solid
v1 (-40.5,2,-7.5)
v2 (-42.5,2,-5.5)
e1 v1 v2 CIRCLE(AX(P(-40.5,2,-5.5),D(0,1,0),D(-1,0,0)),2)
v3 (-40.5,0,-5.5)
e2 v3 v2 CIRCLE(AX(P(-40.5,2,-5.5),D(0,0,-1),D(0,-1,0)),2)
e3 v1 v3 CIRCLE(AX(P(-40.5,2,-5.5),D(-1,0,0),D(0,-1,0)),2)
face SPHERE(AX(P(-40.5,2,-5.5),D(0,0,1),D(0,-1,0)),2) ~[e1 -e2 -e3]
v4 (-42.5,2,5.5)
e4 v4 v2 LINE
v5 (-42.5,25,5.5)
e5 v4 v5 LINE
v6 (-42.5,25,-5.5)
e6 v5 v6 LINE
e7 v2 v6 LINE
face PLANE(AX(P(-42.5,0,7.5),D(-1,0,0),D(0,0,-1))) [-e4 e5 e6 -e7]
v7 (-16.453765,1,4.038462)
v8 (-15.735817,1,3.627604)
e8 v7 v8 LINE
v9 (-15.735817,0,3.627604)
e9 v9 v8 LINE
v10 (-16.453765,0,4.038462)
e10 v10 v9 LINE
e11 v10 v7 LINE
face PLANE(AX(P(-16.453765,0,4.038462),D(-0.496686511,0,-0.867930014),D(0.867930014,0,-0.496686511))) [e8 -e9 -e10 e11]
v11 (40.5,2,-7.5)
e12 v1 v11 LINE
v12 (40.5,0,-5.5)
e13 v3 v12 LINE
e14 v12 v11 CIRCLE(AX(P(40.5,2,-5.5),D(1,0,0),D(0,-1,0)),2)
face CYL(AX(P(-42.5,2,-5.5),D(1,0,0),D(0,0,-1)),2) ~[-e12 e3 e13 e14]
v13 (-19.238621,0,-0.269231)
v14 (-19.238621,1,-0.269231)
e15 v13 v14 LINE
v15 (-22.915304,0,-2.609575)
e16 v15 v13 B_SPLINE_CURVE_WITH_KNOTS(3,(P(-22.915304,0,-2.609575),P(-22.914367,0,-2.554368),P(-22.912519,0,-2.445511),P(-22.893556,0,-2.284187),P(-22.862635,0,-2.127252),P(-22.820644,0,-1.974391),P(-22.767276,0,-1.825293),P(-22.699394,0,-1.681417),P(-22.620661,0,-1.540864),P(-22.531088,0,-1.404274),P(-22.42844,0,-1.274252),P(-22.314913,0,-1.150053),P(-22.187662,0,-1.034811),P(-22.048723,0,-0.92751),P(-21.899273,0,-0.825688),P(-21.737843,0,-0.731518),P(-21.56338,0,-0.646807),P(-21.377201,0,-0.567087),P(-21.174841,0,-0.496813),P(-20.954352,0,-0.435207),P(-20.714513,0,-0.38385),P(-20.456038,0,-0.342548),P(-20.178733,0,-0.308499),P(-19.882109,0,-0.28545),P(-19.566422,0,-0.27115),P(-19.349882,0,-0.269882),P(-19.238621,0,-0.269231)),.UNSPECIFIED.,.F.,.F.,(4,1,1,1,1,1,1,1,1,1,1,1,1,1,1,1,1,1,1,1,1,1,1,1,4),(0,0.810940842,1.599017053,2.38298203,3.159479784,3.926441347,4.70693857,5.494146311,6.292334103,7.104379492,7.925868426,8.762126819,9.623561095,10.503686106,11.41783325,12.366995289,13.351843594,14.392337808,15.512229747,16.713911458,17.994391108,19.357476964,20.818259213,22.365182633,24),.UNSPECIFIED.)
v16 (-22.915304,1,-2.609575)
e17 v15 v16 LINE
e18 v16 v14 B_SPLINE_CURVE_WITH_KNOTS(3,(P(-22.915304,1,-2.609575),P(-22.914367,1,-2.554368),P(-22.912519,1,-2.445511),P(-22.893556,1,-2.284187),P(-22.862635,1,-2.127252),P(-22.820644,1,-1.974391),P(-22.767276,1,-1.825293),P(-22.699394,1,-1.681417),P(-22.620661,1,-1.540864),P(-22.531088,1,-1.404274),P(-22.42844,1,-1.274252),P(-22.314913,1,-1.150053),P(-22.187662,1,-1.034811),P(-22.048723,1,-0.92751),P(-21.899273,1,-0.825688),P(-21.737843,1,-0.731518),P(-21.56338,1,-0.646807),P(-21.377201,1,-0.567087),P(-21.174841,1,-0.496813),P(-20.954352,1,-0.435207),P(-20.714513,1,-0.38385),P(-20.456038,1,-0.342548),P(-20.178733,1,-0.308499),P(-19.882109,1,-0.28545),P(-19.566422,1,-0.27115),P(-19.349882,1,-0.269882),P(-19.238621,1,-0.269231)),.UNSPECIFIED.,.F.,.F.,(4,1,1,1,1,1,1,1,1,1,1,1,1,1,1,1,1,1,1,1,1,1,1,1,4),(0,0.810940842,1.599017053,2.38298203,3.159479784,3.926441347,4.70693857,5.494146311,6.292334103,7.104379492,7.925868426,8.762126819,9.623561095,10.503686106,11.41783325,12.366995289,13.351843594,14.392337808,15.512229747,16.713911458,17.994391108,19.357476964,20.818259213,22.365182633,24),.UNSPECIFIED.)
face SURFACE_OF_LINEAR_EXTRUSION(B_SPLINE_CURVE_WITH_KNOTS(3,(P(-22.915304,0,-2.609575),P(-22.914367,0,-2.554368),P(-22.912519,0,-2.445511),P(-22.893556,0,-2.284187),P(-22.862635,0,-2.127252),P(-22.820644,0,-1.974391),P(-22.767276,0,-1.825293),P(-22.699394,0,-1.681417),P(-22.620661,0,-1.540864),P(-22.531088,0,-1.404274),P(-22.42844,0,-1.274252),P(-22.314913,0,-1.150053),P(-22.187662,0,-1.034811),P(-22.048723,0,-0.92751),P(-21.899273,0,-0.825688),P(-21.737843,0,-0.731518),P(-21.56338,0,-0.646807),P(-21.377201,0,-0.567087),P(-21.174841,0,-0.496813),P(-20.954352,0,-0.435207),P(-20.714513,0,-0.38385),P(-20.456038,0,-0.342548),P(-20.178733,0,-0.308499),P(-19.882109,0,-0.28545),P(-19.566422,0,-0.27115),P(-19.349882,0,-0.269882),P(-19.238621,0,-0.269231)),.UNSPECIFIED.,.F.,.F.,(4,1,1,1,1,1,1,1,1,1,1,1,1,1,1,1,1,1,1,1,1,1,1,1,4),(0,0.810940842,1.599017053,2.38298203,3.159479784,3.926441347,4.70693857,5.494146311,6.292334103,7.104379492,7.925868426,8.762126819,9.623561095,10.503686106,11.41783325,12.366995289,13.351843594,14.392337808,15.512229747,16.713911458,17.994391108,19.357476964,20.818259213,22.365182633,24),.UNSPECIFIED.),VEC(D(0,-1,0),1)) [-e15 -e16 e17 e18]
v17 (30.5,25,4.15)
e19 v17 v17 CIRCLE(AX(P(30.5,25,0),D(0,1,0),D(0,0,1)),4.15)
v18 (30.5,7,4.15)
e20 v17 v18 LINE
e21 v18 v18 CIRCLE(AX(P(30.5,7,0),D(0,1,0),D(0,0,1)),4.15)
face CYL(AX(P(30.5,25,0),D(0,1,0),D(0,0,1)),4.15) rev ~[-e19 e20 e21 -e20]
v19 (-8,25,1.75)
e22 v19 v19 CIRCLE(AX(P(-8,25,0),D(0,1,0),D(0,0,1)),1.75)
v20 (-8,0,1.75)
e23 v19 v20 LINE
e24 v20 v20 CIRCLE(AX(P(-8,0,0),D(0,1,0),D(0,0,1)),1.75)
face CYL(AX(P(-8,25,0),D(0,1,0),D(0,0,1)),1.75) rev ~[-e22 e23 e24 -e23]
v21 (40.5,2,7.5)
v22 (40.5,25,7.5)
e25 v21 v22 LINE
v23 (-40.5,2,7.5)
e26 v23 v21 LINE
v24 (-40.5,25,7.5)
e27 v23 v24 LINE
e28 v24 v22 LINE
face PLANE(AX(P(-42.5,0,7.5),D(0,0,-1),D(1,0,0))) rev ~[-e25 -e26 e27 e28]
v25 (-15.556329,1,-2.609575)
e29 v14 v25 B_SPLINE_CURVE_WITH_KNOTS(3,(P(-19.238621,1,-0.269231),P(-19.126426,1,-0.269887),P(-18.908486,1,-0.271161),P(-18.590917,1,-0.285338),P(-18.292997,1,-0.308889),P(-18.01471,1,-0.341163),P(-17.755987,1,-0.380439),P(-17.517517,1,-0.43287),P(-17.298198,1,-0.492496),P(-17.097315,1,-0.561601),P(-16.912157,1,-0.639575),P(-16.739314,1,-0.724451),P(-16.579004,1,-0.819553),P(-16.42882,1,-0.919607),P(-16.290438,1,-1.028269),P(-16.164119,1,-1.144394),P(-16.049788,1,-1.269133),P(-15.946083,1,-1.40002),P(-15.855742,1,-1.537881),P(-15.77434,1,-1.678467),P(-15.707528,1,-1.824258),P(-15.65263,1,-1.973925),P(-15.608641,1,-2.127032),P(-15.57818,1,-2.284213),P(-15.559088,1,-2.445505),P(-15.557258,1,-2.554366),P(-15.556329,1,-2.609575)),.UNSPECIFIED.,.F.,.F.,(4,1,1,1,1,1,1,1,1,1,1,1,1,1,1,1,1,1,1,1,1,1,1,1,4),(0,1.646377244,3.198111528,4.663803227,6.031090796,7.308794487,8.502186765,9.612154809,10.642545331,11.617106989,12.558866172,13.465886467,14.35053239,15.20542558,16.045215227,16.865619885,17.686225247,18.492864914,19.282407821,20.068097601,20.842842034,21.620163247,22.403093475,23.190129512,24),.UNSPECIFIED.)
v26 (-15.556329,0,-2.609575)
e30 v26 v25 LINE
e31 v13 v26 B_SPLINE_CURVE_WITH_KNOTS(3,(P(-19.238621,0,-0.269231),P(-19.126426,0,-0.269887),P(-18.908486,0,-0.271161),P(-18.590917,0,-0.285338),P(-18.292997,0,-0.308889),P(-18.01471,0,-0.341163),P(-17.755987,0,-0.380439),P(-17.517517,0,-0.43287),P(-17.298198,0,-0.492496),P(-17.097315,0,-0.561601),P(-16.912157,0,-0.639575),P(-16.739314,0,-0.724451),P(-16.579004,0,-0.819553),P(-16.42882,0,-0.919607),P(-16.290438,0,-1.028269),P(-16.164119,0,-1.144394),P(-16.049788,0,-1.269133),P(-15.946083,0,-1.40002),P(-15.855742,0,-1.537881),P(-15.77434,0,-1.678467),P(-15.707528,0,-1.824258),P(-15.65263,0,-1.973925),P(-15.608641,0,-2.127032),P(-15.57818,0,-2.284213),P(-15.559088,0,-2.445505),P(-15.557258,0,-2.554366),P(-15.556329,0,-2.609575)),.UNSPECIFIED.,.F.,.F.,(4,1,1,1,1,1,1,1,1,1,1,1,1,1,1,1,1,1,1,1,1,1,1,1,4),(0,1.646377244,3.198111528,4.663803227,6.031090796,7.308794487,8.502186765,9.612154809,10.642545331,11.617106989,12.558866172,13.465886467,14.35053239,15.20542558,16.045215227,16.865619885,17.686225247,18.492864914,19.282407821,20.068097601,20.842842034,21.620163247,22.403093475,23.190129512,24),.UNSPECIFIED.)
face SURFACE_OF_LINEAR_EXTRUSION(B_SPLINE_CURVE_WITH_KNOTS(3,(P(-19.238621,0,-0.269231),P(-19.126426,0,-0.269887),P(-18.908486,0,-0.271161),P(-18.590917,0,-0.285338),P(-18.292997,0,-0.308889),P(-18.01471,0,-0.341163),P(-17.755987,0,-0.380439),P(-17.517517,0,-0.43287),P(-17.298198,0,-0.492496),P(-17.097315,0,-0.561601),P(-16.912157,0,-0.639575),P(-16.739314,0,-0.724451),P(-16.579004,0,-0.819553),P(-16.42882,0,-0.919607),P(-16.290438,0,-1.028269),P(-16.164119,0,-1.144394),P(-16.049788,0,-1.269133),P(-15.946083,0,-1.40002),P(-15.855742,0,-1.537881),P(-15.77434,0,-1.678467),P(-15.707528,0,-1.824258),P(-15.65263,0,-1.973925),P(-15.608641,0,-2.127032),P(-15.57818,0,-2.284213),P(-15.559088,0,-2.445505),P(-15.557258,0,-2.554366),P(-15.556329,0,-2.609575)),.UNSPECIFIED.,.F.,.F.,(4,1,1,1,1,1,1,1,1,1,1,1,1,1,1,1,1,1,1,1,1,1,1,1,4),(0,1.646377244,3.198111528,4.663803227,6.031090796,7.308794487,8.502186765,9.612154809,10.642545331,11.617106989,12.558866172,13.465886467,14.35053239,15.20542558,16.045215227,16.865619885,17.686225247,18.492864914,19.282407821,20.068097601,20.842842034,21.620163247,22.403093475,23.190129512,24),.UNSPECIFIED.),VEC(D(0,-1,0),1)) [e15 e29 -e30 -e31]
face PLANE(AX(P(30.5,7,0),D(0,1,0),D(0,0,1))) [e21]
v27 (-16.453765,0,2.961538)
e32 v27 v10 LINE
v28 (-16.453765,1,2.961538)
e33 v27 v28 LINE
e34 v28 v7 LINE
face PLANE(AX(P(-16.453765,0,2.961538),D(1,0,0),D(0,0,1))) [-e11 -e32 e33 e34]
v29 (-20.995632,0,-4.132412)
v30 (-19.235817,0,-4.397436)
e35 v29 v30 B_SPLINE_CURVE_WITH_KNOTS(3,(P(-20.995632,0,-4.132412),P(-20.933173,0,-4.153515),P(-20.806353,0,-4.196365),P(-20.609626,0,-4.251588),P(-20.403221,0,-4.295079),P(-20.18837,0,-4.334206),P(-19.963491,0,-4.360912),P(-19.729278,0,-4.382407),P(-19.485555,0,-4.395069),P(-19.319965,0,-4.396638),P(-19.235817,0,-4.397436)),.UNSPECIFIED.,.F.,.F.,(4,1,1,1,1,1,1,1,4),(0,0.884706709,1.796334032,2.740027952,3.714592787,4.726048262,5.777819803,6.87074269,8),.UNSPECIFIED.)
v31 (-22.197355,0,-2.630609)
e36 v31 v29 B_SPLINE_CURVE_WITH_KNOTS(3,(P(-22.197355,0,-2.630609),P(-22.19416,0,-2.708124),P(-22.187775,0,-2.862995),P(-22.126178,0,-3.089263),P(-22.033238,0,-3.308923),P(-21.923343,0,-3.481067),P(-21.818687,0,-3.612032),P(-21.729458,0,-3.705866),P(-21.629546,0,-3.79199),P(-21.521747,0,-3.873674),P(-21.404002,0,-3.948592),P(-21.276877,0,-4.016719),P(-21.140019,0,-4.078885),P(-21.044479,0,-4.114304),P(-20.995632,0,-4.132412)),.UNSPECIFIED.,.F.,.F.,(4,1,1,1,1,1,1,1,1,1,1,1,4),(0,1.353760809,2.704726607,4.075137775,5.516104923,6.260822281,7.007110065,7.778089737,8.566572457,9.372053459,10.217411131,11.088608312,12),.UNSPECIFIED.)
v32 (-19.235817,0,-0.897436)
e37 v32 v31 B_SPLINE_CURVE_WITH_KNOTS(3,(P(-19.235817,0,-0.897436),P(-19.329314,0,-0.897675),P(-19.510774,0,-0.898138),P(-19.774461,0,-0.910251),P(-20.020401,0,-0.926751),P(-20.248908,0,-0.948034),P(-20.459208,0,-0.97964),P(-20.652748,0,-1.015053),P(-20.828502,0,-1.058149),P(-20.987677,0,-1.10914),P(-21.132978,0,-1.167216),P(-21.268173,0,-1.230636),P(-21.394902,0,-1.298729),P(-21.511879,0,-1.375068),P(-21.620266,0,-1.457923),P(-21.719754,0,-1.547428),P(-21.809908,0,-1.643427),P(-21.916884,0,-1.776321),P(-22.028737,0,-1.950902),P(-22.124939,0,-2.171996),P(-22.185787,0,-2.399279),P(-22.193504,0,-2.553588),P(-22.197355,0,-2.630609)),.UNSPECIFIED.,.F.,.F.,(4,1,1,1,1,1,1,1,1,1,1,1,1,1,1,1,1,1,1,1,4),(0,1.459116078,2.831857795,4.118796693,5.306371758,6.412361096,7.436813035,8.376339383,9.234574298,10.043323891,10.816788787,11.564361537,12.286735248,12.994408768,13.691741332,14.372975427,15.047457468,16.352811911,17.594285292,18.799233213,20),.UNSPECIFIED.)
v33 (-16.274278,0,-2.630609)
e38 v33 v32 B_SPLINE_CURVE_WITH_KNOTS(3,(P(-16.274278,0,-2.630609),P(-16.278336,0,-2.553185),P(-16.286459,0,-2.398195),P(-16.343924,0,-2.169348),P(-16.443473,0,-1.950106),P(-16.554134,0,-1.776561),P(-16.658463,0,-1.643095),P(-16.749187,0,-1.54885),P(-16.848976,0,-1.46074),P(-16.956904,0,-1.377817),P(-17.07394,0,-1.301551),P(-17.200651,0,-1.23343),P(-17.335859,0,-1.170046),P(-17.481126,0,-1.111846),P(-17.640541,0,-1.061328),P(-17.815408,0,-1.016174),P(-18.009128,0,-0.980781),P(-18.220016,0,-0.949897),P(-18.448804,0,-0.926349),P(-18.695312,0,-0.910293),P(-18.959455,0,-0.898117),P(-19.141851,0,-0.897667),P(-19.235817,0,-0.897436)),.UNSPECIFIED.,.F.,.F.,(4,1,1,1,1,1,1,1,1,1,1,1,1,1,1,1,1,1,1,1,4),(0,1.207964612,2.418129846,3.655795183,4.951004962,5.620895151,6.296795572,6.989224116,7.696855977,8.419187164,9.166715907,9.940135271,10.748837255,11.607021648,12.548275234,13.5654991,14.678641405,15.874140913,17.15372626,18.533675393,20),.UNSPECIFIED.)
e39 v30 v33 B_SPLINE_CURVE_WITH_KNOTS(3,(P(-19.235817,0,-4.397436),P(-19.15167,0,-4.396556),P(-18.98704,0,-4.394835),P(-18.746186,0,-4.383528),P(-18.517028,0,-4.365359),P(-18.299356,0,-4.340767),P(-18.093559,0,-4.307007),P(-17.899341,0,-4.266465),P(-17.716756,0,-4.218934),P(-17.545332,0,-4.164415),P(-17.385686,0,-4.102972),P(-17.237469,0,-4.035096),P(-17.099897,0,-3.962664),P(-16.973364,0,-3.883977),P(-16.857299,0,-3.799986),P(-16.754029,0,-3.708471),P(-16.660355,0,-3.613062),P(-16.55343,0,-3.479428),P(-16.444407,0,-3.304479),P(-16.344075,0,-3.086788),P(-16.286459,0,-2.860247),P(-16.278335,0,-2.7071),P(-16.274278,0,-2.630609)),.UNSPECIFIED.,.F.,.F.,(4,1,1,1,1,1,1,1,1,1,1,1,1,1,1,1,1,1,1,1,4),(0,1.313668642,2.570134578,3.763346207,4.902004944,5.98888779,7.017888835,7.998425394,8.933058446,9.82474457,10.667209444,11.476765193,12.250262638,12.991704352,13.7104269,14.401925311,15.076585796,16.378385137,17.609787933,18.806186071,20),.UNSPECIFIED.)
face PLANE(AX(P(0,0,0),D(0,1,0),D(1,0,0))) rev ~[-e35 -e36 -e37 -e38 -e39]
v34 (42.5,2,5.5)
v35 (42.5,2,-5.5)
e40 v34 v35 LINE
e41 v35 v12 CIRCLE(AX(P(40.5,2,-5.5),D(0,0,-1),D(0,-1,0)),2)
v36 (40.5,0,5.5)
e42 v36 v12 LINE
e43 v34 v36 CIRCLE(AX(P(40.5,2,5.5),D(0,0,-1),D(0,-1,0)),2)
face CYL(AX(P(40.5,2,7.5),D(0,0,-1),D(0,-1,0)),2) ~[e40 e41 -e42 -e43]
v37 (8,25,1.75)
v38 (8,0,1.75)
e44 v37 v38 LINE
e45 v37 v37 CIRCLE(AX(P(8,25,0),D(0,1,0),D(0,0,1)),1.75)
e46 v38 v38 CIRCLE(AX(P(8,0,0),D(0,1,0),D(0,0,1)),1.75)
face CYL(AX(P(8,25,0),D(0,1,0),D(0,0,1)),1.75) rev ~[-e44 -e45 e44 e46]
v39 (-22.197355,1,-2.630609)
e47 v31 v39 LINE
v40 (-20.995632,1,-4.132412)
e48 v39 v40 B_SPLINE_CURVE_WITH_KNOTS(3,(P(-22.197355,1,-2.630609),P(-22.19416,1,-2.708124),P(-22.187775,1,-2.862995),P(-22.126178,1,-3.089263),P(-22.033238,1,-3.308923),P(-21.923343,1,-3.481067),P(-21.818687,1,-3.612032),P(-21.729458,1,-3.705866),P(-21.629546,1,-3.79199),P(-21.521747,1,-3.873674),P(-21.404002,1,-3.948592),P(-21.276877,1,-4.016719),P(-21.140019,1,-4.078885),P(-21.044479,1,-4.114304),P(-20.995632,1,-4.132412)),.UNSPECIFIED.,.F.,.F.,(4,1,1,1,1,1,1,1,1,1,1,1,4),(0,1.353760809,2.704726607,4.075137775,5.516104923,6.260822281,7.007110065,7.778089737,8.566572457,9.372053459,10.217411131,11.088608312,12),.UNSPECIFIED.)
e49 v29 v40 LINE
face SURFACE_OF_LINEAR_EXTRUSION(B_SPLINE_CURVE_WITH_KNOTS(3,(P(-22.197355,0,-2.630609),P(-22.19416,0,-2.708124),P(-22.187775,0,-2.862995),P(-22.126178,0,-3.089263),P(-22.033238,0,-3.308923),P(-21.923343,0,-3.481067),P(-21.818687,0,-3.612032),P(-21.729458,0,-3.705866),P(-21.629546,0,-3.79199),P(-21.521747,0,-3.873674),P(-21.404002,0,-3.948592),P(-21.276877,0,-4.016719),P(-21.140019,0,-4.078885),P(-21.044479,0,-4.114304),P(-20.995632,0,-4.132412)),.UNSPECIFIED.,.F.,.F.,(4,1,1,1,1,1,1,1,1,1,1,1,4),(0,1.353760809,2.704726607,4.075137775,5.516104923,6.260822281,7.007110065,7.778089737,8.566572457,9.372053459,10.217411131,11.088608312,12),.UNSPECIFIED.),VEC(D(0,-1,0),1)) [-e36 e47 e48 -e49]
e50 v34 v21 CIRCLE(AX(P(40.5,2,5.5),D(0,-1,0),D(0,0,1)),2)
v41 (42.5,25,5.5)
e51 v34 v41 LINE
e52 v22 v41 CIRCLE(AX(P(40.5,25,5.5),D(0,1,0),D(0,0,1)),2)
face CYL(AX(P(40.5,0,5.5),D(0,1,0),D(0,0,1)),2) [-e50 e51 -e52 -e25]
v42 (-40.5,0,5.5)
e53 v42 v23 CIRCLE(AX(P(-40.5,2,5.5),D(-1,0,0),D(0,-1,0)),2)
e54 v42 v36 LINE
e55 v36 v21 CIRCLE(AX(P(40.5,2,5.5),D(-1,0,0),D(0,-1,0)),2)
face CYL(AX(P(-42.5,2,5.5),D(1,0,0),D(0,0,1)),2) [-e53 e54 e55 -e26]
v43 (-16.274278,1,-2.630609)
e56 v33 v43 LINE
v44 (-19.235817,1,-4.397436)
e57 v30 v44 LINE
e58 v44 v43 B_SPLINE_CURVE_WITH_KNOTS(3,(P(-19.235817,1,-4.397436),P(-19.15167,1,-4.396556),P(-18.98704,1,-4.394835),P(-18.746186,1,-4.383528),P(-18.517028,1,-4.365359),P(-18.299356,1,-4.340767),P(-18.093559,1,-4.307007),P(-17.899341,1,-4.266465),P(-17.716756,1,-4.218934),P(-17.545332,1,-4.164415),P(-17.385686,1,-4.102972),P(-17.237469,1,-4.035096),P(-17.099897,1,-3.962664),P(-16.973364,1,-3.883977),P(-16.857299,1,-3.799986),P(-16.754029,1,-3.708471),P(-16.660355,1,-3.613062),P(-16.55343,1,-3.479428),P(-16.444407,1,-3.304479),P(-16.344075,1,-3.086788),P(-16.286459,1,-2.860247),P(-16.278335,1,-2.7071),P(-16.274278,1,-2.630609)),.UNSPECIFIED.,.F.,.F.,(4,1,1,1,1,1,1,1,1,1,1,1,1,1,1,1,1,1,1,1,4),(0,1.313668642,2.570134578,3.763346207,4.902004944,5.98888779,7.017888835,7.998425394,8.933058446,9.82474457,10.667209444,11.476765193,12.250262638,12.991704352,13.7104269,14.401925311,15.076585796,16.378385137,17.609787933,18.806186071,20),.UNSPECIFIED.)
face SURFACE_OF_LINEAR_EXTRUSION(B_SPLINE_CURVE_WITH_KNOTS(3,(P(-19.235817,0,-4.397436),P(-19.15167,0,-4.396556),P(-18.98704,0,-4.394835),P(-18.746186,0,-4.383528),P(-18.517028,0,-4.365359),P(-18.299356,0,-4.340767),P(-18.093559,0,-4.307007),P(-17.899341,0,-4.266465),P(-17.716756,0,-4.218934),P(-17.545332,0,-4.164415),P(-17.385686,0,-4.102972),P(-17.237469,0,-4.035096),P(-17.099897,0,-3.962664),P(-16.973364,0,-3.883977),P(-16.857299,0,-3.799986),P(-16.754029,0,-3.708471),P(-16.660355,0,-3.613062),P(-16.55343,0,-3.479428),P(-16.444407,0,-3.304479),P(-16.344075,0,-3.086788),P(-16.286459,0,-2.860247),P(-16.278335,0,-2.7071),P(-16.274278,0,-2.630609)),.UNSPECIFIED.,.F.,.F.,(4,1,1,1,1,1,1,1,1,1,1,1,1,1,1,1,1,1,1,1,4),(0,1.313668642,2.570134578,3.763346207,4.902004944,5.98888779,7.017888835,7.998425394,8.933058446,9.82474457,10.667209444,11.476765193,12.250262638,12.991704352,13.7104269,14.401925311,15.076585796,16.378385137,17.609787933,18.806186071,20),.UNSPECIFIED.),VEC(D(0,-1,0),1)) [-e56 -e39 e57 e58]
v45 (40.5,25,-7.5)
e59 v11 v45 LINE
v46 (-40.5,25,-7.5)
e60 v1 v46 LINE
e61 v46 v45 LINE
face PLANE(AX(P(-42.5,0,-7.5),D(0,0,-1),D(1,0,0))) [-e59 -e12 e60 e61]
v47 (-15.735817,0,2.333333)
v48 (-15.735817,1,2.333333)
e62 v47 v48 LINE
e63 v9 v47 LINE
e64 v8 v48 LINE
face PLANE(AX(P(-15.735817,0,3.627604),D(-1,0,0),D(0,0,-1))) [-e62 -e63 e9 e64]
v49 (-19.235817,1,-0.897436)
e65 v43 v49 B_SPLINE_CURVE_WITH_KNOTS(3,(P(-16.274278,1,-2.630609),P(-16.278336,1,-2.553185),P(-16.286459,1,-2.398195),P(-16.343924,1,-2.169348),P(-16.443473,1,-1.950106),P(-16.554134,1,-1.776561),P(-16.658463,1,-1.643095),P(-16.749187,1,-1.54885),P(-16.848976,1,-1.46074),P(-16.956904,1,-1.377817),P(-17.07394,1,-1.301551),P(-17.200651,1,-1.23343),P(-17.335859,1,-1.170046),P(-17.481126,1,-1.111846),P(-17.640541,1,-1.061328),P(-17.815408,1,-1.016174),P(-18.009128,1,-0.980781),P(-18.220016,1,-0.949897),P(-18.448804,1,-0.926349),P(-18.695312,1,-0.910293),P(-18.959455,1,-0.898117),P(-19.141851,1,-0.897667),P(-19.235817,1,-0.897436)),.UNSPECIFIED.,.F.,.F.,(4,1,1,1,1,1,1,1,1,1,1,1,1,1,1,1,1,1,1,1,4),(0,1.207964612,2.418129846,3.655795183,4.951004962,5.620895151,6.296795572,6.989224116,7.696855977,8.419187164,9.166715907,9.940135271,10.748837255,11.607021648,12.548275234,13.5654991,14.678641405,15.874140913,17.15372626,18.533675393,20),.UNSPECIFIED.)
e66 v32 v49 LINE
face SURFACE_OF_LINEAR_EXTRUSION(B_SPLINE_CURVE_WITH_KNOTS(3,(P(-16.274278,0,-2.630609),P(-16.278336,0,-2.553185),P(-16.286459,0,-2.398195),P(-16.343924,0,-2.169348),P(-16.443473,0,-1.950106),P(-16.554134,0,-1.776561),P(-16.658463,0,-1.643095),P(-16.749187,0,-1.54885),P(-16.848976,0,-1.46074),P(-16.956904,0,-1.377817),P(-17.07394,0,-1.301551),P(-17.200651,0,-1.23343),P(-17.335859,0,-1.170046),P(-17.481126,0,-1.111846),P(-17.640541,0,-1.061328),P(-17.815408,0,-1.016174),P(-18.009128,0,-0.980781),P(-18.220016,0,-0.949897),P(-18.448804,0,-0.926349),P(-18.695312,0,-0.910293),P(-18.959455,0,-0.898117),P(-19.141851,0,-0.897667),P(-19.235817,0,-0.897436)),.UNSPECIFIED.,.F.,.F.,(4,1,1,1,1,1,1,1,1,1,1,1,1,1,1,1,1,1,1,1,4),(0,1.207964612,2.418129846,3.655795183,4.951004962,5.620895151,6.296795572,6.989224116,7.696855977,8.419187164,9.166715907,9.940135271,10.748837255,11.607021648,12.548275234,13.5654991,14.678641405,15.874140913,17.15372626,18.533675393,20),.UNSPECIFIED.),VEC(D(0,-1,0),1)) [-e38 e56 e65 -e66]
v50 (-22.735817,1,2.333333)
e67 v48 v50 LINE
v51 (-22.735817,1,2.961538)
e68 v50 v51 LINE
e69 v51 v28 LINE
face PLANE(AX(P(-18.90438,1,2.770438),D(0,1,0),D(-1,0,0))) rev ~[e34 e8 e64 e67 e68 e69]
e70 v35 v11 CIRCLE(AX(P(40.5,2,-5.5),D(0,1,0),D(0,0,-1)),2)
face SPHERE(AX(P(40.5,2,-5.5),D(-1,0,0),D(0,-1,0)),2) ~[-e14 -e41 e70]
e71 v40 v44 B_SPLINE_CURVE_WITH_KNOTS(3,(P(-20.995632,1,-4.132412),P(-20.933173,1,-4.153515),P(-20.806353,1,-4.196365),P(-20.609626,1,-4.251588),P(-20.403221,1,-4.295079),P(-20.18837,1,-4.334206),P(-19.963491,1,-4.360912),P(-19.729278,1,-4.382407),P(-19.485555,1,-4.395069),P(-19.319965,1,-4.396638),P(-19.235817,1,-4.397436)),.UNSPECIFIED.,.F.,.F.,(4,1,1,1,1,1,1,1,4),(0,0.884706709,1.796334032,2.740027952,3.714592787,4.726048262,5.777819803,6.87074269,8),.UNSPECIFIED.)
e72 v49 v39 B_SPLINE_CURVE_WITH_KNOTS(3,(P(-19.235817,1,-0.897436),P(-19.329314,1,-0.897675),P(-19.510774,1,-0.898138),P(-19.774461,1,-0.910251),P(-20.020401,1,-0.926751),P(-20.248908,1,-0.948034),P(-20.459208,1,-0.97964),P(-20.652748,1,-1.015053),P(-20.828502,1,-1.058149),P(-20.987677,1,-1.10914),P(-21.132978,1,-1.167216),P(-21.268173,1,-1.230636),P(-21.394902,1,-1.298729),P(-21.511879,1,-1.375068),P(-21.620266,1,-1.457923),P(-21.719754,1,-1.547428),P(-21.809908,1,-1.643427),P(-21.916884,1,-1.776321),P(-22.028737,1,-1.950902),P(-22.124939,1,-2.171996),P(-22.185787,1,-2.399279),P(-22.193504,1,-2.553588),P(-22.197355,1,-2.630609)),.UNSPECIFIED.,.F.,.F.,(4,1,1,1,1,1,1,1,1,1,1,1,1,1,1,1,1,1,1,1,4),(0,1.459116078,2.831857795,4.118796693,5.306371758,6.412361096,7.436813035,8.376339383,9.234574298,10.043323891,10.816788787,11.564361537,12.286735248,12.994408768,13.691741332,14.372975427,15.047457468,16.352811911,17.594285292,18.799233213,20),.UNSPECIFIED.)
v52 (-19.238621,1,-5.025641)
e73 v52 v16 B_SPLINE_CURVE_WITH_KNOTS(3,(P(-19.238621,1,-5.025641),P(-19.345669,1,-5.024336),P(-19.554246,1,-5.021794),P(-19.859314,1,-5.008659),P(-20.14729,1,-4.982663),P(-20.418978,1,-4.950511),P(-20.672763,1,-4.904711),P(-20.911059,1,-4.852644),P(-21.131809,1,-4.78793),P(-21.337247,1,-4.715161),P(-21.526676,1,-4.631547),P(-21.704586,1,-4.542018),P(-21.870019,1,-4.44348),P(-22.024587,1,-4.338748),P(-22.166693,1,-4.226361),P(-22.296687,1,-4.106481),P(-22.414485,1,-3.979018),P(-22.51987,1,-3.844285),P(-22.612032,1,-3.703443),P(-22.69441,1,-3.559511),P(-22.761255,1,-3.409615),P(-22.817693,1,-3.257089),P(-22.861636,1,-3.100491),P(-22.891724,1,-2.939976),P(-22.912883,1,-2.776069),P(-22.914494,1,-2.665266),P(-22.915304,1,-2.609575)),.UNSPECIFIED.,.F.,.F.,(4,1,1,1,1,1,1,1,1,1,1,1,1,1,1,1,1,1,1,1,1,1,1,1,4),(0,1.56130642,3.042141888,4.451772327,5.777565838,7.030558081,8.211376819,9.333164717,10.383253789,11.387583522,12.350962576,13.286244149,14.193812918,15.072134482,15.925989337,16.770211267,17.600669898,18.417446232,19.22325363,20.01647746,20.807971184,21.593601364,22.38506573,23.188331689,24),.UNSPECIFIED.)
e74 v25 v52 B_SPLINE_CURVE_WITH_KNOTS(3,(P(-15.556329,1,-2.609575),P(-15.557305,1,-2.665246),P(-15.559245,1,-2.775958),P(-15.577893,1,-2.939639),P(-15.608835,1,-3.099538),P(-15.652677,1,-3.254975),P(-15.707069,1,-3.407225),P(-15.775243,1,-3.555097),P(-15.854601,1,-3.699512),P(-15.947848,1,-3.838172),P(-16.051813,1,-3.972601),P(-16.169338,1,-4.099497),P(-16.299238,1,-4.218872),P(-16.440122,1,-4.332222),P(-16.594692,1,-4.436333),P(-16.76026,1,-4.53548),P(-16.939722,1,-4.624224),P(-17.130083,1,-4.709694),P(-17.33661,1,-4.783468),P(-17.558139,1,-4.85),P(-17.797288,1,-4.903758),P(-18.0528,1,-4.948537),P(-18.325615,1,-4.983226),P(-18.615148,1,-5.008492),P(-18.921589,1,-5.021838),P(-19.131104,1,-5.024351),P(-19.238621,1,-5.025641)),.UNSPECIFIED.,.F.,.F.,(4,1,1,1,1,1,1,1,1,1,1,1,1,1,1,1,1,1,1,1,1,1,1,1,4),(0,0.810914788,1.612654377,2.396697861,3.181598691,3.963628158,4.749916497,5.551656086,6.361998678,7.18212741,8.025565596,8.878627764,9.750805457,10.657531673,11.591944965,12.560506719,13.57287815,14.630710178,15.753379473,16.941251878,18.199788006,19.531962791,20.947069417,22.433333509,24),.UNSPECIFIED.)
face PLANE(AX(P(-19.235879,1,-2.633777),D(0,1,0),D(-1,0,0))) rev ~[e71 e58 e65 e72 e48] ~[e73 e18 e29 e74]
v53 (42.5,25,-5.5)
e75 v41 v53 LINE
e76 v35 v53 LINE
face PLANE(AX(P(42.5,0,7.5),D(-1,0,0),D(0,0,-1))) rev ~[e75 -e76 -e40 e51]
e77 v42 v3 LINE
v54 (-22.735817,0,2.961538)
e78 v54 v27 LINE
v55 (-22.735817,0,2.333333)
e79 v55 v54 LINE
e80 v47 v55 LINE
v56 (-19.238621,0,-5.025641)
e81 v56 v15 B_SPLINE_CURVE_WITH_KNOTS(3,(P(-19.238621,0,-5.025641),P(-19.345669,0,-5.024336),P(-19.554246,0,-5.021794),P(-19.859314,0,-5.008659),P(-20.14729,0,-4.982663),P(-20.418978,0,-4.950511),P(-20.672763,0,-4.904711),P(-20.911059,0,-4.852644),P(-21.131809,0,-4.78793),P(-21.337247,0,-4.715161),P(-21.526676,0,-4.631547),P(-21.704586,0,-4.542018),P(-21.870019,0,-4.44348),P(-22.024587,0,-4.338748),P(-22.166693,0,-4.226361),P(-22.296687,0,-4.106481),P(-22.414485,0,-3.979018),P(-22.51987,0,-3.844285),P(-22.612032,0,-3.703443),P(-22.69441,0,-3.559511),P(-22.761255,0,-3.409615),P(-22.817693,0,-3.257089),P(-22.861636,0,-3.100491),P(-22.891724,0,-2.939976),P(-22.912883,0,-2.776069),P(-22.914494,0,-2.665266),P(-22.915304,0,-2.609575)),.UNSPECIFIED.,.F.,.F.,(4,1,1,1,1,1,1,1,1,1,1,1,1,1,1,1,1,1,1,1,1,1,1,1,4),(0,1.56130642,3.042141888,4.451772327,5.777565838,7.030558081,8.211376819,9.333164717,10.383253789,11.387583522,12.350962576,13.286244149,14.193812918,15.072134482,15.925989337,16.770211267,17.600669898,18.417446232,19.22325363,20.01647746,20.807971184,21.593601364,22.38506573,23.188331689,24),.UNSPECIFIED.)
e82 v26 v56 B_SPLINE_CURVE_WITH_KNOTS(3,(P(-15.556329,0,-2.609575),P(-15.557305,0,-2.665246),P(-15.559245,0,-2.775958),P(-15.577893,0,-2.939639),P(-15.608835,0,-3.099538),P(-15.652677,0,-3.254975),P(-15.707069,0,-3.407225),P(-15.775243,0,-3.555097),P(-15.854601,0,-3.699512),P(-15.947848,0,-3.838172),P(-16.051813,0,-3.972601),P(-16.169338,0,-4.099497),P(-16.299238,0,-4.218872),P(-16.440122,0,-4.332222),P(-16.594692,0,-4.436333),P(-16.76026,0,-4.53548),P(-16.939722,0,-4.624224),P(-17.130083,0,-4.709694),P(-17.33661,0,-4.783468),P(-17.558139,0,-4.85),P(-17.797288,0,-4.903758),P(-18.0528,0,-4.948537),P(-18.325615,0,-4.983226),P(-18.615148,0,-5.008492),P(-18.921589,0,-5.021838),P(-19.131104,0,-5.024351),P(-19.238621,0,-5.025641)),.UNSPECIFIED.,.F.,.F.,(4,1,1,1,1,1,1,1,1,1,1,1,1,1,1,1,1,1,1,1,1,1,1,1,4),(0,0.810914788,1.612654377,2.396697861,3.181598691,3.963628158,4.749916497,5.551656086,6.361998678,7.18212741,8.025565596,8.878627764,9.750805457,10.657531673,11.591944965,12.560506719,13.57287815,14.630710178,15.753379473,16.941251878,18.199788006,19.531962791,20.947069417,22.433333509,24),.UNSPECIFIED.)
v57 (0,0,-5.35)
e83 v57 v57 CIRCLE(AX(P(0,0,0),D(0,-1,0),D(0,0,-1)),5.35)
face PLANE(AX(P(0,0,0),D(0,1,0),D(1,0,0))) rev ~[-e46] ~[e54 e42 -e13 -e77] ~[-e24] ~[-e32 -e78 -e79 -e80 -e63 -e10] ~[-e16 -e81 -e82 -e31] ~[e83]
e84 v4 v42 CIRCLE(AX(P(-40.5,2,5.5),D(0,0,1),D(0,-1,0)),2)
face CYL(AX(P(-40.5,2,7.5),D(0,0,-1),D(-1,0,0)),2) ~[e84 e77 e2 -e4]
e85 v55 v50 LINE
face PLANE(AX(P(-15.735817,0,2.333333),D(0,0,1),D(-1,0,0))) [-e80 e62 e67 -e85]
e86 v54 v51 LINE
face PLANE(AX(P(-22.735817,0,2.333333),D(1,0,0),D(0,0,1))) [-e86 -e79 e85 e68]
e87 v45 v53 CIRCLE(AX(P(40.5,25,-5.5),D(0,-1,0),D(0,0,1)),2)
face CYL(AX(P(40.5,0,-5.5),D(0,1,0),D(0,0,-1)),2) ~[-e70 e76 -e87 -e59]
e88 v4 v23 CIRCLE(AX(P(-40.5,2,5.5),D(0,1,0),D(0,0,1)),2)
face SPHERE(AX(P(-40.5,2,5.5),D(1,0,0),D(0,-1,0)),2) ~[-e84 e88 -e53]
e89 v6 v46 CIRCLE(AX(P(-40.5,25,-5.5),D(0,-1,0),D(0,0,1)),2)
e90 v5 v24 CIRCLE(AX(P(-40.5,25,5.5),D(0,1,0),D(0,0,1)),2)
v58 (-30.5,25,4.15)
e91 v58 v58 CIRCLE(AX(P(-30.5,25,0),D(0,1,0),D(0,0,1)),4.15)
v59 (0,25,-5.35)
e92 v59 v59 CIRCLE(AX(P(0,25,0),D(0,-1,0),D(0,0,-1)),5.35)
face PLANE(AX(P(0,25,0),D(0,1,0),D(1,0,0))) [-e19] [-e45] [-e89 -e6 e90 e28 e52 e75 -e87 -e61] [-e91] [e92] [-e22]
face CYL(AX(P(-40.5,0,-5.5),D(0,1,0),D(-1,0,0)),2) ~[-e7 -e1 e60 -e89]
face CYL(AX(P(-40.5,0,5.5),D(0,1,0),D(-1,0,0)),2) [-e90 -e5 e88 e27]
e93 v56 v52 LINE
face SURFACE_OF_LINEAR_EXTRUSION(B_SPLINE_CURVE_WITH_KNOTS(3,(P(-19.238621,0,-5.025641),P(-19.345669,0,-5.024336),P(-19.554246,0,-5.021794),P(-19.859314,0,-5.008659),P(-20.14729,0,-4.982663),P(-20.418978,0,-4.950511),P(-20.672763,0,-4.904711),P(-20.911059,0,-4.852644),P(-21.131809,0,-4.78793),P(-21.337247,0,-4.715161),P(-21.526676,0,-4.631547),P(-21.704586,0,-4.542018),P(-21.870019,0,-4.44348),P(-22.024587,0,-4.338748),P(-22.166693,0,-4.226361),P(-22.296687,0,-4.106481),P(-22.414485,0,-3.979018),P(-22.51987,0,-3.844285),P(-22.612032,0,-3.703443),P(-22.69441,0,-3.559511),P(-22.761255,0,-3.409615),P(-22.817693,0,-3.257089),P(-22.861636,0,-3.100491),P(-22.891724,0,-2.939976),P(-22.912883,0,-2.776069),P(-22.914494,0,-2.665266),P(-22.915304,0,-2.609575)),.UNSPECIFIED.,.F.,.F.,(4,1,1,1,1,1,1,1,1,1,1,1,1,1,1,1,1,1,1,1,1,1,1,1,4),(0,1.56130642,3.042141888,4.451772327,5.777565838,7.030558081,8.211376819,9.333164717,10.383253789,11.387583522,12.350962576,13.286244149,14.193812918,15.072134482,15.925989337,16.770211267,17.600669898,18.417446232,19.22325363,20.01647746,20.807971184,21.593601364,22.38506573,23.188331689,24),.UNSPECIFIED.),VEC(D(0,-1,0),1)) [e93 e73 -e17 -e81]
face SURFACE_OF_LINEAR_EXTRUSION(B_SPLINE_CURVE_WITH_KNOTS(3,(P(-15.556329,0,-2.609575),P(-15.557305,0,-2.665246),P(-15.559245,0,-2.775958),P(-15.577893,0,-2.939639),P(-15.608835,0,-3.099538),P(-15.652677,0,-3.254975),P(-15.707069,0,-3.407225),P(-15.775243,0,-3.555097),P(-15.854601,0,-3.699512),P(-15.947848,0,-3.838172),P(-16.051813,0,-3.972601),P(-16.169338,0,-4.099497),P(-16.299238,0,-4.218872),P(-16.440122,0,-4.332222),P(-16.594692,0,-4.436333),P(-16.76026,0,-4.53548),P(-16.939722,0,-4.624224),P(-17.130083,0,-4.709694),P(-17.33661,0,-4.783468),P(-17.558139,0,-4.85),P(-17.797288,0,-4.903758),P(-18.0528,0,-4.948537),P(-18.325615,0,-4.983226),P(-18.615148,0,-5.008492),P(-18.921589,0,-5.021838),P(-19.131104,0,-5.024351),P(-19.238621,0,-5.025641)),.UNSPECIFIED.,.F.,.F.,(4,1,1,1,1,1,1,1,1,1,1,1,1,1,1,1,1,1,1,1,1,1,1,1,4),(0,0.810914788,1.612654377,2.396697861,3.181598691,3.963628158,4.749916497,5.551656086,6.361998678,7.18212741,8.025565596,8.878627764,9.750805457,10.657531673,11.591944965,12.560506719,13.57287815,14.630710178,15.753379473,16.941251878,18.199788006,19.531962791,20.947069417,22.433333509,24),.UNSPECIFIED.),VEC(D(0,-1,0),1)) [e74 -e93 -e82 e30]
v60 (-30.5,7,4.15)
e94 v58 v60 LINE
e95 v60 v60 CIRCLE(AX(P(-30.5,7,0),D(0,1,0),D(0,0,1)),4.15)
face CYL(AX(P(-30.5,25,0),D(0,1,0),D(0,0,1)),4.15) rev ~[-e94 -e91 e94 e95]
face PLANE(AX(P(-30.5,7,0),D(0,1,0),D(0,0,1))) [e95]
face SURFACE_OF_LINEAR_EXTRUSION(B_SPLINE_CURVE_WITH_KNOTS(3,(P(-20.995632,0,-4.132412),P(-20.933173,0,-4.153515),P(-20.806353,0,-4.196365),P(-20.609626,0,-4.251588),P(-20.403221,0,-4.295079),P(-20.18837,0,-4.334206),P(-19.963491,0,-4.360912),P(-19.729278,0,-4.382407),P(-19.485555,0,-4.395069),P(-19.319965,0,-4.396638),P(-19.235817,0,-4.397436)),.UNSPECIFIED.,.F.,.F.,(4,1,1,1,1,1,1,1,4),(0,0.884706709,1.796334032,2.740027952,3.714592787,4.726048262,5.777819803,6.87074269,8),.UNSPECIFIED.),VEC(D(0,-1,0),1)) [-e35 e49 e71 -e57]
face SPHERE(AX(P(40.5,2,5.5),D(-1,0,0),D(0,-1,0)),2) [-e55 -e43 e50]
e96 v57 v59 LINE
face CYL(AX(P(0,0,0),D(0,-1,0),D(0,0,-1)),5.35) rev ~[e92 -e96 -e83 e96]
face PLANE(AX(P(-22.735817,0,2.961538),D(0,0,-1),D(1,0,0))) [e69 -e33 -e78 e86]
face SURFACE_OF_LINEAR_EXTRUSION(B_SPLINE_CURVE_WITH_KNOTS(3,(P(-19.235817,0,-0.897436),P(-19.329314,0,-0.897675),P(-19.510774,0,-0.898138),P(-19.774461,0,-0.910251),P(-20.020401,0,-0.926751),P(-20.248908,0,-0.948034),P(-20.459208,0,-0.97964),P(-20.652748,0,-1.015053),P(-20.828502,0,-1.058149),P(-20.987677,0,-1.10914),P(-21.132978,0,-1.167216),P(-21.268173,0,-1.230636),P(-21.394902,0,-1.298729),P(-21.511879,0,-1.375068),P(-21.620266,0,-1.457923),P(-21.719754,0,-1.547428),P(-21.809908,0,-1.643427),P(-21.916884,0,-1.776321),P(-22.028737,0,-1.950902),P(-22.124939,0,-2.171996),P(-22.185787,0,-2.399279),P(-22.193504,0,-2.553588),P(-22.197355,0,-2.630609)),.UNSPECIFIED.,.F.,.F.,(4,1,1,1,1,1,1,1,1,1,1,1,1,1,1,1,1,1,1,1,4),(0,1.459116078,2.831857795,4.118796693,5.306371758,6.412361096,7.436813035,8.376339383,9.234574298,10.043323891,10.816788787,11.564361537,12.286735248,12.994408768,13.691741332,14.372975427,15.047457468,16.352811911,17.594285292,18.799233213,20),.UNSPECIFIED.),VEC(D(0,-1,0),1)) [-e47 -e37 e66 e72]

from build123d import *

# Parameters (mm, degrees)
CROQUIS1_W              = 85
CROQUIS1_H              = 15
SALIENTE_EXTRUIR1_DEPTH = 25
CROQUIS2_R              = 5.35
CORTAR_EXTRUIR1_DEPTH   = 50.874843358
CROQUIS3_R              = 4.15
CORTAR_EXTRUIR2_DEPTH   = 18
REDONDEO1_R             = 2
CROQUIS6_R              = 1.75
CORTAR_EXTRUIR4_DEPTH   = 50.874843358
CORTAR_EXTRUIR7_DEPTH   = 1


with BuildPart() as part:
    # Croquis1 → Saliente-Extruir1 (new body)
    with BuildSketch(Plane(origin=(0, 0, 0), x_dir=(1, 0, 0), z_dir=(0, 1, 0))):
        Rectangle(CROQUIS1_W, CROQUIS1_H)
    extrude(amount=SALIENTE_EXTRUIR1_DEPTH)

    # Croquis2 → Cortar-Extruir1 (cut, through all)
    with BuildSketch(Plane(origin=(0, 0, 0), x_dir=(-1, 0, 0), z_dir=(0, -1, 0))):
        with Locations(Location((0, 0, 0), (0, 0, 90))):
            Circle(CROQUIS2_R)
    extrude(amount=-CORTAR_EXTRUIR1_DEPTH, mode=Mode.SUBTRACT)

    # Croquis3 → Cortar-Extruir2 (cut)
    with BuildSketch(Plane(origin=(0, 25, 0), x_dir=(1, 0, 0), z_dir=(0, 1, 0))):
        with Locations(Location((-30.5, 0, 0), (0, 0, 270))):
            Circle(CROQUIS3_R)
        with Locations(Location((30.5, 0, 0), (0, 0, 270))):
            Circle(CROQUIS3_R)
    extrude(amount=-CORTAR_EXTRUIR2_DEPTH, mode=Mode.SUBTRACT)

    # Redondeo1
    redondeo1_edges = [part.edges().sort_by_distance(p)[0] for p in [
        (0, 0, 7.5),
        (-42.5, 0, 0),
        (0, 0, -7.5),
        (42.5, 0, 0),
        (42.5, 12.5, 7.5),
        (-42.5, 12.5, 7.5),
        (-42.5, 12.5, -7.5),
        (42.5, 12.5, -7.5),
    ]]
    fillet(redondeo1_edges, radius=REDONDEO1_R)

    # Croquis6 → Cortar-Extruir4 (cut, through all)
    with BuildSketch(Plane(origin=(0, 25, 0), x_dir=(1, 0, 0), z_dir=(0, 1, 0))):
        with Locations(Location((8, 0, 0), (0, 0, 270))):
            Circle(CROQUIS6_R)
        with Locations(Location((-8, 0, 0), (0, 0, 270))):
            Circle(CROQUIS6_R)
    extrude(amount=-CORTAR_EXTRUIR4_DEPTH, mode=Mode.SUBTRACT)

    # Croquis7 → Cortar-Extruir7 (cut)
    # profile 1 of 2: a face of its own
    with BuildSketch(Plane.XZ):
        Polygon((-15.735816649, 3.627604167), (-15.735816649, 2.333333333), (-22.735816649, 2.333333333), (-22.735816649, 2.961538462), (-16.453765367, 2.961538462), (-16.453765367, 4.038461538), align=None)
    # profile 2 of 2: a face of its own
    with BuildSketch(Plane.XZ):
        with BuildLine():
            add(Edge.make_bspline(
                [(-19.238621136, -0.269230769), (-19.126426361, -0.269886806), (-18.908486392, -0.271161165), (-18.590917108, -0.285338008), (-18.292996529, -0.308888691), (-18.014710402, -0.341163442), (-17.755986857, -0.380439385), (-17.517517395, -0.432870416), (-17.298198005, -0.492495828), (-17.097314503, -0.56160137), (-16.912157049, -0.639574708), (-16.739313868, -0.724451126), (-16.579004397, -0.819552716), (-16.428820359, -0.919606638), (-16.290437881, -1.02826913), (-16.164119024, -1.144394069), (-16.049787516, -1.269133369), (-15.946082617, -1.40001997), (-15.85574243, -1.537881039), (-15.774339916, -1.678466778), (-15.707527896, -1.824257937), (-15.652629856, -1.973924855), (-15.608641448, -2.127032284), (-15.578179561, -2.284212853), (-15.559088147, -2.445504533), (-15.557257753, -2.554366181), (-15.556329469, -2.609575321)],
                knots=[0, 0, 0, 0, 1.646377244, 3.198111528, 4.663803227, 6.031090796, 7.308794487, 8.502186765, 9.612154809, 10.642545331, 11.617106989, 12.558866172, 13.465886467, 14.35053239, 15.20542558, 16.045215227, 16.865619885, 17.686225247, 18.492864914, 19.282407821, 20.068097601, 20.842842034, 21.620163247, 22.403093475, 23.190129512, 24, 24, 24, 24], degree=3))
            add(Edge.make_bspline(
                [(-15.556329469, -2.609575321), (-15.5573051, -2.665246277), (-15.559245322, -2.775958295), (-15.577893207, -2.939639046), (-15.608835453, -3.099538409), (-15.652677402, -3.254974687), (-15.707068755, -3.40722466), (-15.77524299, -3.555097475), (-15.854600724, -3.699511638), (-15.947848479, -3.838172213), (-16.051813031, -3.972601444), (-16.169338369, -4.09949737), (-16.299237807, -4.218871542), (-16.440121535, -4.332222152), (-16.594691705, -4.436333347), (-16.760259925, -4.535480211), (-16.939721654, -4.624224283), (-17.13008259, -4.709693633), (-17.336609907, -4.783467607), (-17.558139428, -4.850000097), (-17.797287802, -4.903758035), (-18.052800293, -4.948536579), (-18.325615259, -4.983226371), (-18.61514789, -5.008491655), (-18.921588672, -5.021837825), (-19.13110437, -5.024351228), (-19.238621136, -5.025641026)],
                knots=[0, 0, 0, 0, 0.810914788, 1.612654377, 2.396697861, 3.181598691, 3.963628158, 4.749916497, 5.551656086, 6.361998678, 7.18212741, 8.025565596, 8.878627764, 9.750805457, 10.657531673, 11.591944965, 12.560506719, 13.57287815, 14.630710178, 15.753379473, 16.941251878, 18.199788006, 19.531962791, 20.947069417, 22.433333509, 24, 24, 24, 24], degree=3))
            add(Edge.make_bspline(
                [(-19.238621136, -5.025641026), (-19.345668552, -5.024336246), (-19.554246076, -5.021793936), (-19.859313556, -5.008658775), (-20.147290215, -4.982663334), (-20.41897767, -4.950511076), (-20.672762824, -4.904710628), (-20.911058869, -4.85264359), (-21.131809347, -4.787929851), (-21.337247456, -4.71516142), (-21.526675746, -4.631546669), (-21.704586114, -4.542018264), (-21.870019237, -4.443479984), (-22.024587159, -4.338747894), (-22.166692715, -4.226360749), (-22.296687112, -4.106481098), (-22.414484608, -3.979017693), (-22.519869643, -3.844284532), (-22.612031928, -3.703442631), (-22.694410187, -3.559510505), (-22.761255036, -3.409615396), (-22.817693438, -3.257088604), (-22.861636248, -3.100490939), (-22.891723593, -2.939976001), (-22.912883478, -2.776069471), (-22.914494251, -2.665265538), (-22.915303828, -2.609575321)],
                knots=[0, 0, 0, 0, 1.56130642, 3.042141888, 4.451772327, 5.777565838, 7.030558081, 8.211376819, 9.333164717, 10.383253789, 11.387583522, 12.350962576, 13.286244149, 14.193812918, 15.072134482, 15.925989337, 16.770211267, 17.600669898, 18.417446232, 19.22325363, 20.01647746, 20.807971184, 21.593601364, 22.38506573, 23.188331689, 24, 24, 24, 24], degree=3))
            add(Edge.make_bspline(
                [(-22.915303828, -2.609575321), (-22.914366612, -2.554368424), (-22.912518605, -2.445511199), (-22.893556216, -2.284187121), (-22.86263495, -2.127251692), (-22.820644024, -1.974391185), (-22.767276046, -1.825292768), (-22.699393956, -1.681417008), (-22.620661292, -1.5408638), (-22.531088152, -1.404274494), (-22.428439667, -1.274252399), (-22.314913491, -1.150052566), (-22.187662157, -1.034810992), (-22.048722516, -0.927510387), (-21.899273474, -0.825687939), (-21.737842843, -0.731518276), (-21.563380224, -0.646807414), (-21.377200643, -0.567086628), (-21.174840747, -0.496812905), (-20.954351598, -0.435206972), (-20.7145135, -0.383849808), (-20.456038463, -0.342548111), (-20.178733027, -0.308499017), (-19.882108942, -0.285449523), (-19.566422129, -0.271149875), (-19.349882069, -0.269882145), (-19.238621136, -0.269230769)],
                knots=[0, 0, 0, 0, 0.810940842, 1.599017053, 2.38298203, 3.159479784, 3.926441347, 4.70693857, 5.494146311, 6.292334103, 7.104379492, 7.925868426, 8.762126819, 9.623561095, 10.503686106, 11.41783325, 12.366995289, 13.351843594, 14.392337808, 15.512229747, 16.713911458, 17.994391108, 19.357476964, 20.818259213, 22.365182633, 24, 24, 24, 24], degree=3))
        make_face()
        with BuildLine():
            add(Edge.make_bspline(
                [(-19.235816649, -0.897435897), (-19.329314047, -0.897674792), (-19.510774136, -0.898138438), (-19.774460658, -0.91025084), (-20.020401317, -0.926751302), (-20.248908385, -0.948033902), (-20.459208427, -0.97963978), (-20.652747737, -1.015053418), (-20.828502395, -1.058149393), (-20.987677411, -1.109140103), (-21.132977611, -1.167215999), (-21.268172835, -1.230635754), (-21.394902211, -1.298728786), (-21.511878588, -1.375068296), (-21.620266383, -1.457922738), (-21.719754119, -1.547428165), (-21.809907706, -1.643427165), (-21.916883678, -1.77632125), (-22.028736694, -1.950902188), (-22.124938828, -2.171995858), (-22.185786987, -2.39927863), (-22.19350354, -2.553588256), (-22.197355111, -2.630608974)],
                knots=[0, 0, 0, 0, 1.459116078, 2.831857795, 4.118796693, 5.306371758, 6.412361096, 7.436813035, 8.376339383, 9.234574298, 10.043323891, 10.816788787, 11.564361537, 12.286735248, 12.994408768, 13.691741332, 14.372975427, 15.047457468, 16.352811911, 17.594285292, 18.799233213, 20, 20, 20, 20], degree=3))
            add(Edge.make_bspline(
                [(-22.197355111, -2.630608974), (-22.194159549, -2.708124318), (-22.187775023, -2.862994964), (-22.126177549, -3.089262554), (-22.03323847, -3.308923094), (-21.923343459, -3.481066975), (-21.8186868, -3.612032062), (-21.729457503, -3.705866042), (-21.629545769, -3.791990139), (-21.521747177, -3.873674289), (-21.404002208, -3.94859244), (-21.276877058, -4.016718716), (-21.140018702, -4.078885411), (-21.044479224, -4.114303503), (-20.995632354, -4.132411859)],
                knots=[0, 0, 0, 0, 1.353760809, 2.704726607, 4.075137775, 5.516104923, 6.260822281, 7.007110065, 7.778089737, 8.566572457, 9.372053459, 10.217411131, 11.088608312, 12, 12, 12, 12], degree=3))
            add(Edge.make_bspline(
                [(-20.995632354, -4.132411859), (-20.933172875, -4.153515395), (-20.806353347, -4.196364622), (-20.609626043, -4.251588171), (-20.403220515, -4.295078969), (-20.188370281, -4.334205701), (-19.963490879, -4.360911812), (-19.729278111, -4.382407439), (-19.485555387, -4.395068813), (-19.319965404, -4.396638315), (-19.235816649, -4.397435897)],
                knots=[0, 0, 0, 0, 0.884706709, 1.796334032, 2.740027952, 3.714592787, 4.726048262, 5.777819803, 6.87074269, 8, 8, 8, 8], degree=3))
            add(Edge.make_bspline(
                [(-19.235816649, -4.397435897), (-19.151669702, -4.396556249), (-18.987039924, -4.394835257), (-18.746186408, -4.383528181), (-18.517027725, -4.365358649), (-18.299355986, -4.340766586), (-18.093558624, -4.307006884), (-17.899341146, -4.266464843), (-17.716755909, -4.218933951), (-17.545332043, -4.164414601), (-17.38568569, -4.102972048), (-17.237469269, -4.03509645), (-17.099897025, -3.962663991), (-16.973363843, -3.883976736), (-16.857298581, -3.799986068), (-16.754029437, -3.708470792), (-16.660355489, -3.613062092), (-16.553430354, -3.479427706), (-16.444406962, -3.304479133), (-16.344075443, -3.086787836), (-16.286458857, -2.860246548), (-16.278335483, -2.70709964), (-16.274278187, -2.630608974)],
                knots=[0, 0, 0, 0, 1.313668642, 2.570134578, 3.763346207, 4.902004944, 5.98888779, 7.017888835, 7.998425394, 8.933058446, 9.82474457, 10.667209444, 11.476765193, 12.250262638, 12.991704352, 13.7104269, 14.401925311, 15.076585796, 16.378385137, 17.609787933, 18.806186071, 20, 20, 20, 20], degree=3))
            add(Edge.make_bspline(
                [(-16.274278187, -2.630608974), (-16.278335846, -2.553184539), (-16.286458556, -2.39819462), (-16.343924357, -2.169347957), (-16.443472852, -1.950105943), (-16.554134391, -1.776560965), (-16.658462613, -1.643095185), (-16.749186831, -1.54884971), (-16.848975533, -1.460740005), (-16.956904441, -1.377816535), (-17.073939817, -1.301550513), (-17.200650763, -1.233429615), (-17.335858551, -1.170046263), (-17.481125692, -1.111845682), (-17.640540674, -1.061327523), (-17.815408316, -1.016173608), (-18.0091284, -0.980781455), (-18.220016384, -0.949896763), (-18.44880436, -0.926348938), (-18.695312028, -0.910293198), (-18.959454547, -0.898116523), (-19.141850896, -0.897667316), (-19.235816649, -0.897435897)],
                knots=[0, 0, 0, 0, 1.207964612, 2.418129846, 3.655795183, 4.951004962, 5.620895151, 6.296795572, 6.989224116, 7.696855977, 8.419187164, 9.166715907, 9.940135271, 10.748837255, 11.607021648, 12.548275234, 13.5654991, 14.678641405, 15.874140913, 17.15372626, 18.533675393, 20, 20, 20, 20], degree=3))
        make_face(mode=Mode.SUBTRACT)
    extrude(amount=-CORTAR_EXTRUIR7_DEPTH, mode=Mode.SUBTRACT)


solid = part.part
